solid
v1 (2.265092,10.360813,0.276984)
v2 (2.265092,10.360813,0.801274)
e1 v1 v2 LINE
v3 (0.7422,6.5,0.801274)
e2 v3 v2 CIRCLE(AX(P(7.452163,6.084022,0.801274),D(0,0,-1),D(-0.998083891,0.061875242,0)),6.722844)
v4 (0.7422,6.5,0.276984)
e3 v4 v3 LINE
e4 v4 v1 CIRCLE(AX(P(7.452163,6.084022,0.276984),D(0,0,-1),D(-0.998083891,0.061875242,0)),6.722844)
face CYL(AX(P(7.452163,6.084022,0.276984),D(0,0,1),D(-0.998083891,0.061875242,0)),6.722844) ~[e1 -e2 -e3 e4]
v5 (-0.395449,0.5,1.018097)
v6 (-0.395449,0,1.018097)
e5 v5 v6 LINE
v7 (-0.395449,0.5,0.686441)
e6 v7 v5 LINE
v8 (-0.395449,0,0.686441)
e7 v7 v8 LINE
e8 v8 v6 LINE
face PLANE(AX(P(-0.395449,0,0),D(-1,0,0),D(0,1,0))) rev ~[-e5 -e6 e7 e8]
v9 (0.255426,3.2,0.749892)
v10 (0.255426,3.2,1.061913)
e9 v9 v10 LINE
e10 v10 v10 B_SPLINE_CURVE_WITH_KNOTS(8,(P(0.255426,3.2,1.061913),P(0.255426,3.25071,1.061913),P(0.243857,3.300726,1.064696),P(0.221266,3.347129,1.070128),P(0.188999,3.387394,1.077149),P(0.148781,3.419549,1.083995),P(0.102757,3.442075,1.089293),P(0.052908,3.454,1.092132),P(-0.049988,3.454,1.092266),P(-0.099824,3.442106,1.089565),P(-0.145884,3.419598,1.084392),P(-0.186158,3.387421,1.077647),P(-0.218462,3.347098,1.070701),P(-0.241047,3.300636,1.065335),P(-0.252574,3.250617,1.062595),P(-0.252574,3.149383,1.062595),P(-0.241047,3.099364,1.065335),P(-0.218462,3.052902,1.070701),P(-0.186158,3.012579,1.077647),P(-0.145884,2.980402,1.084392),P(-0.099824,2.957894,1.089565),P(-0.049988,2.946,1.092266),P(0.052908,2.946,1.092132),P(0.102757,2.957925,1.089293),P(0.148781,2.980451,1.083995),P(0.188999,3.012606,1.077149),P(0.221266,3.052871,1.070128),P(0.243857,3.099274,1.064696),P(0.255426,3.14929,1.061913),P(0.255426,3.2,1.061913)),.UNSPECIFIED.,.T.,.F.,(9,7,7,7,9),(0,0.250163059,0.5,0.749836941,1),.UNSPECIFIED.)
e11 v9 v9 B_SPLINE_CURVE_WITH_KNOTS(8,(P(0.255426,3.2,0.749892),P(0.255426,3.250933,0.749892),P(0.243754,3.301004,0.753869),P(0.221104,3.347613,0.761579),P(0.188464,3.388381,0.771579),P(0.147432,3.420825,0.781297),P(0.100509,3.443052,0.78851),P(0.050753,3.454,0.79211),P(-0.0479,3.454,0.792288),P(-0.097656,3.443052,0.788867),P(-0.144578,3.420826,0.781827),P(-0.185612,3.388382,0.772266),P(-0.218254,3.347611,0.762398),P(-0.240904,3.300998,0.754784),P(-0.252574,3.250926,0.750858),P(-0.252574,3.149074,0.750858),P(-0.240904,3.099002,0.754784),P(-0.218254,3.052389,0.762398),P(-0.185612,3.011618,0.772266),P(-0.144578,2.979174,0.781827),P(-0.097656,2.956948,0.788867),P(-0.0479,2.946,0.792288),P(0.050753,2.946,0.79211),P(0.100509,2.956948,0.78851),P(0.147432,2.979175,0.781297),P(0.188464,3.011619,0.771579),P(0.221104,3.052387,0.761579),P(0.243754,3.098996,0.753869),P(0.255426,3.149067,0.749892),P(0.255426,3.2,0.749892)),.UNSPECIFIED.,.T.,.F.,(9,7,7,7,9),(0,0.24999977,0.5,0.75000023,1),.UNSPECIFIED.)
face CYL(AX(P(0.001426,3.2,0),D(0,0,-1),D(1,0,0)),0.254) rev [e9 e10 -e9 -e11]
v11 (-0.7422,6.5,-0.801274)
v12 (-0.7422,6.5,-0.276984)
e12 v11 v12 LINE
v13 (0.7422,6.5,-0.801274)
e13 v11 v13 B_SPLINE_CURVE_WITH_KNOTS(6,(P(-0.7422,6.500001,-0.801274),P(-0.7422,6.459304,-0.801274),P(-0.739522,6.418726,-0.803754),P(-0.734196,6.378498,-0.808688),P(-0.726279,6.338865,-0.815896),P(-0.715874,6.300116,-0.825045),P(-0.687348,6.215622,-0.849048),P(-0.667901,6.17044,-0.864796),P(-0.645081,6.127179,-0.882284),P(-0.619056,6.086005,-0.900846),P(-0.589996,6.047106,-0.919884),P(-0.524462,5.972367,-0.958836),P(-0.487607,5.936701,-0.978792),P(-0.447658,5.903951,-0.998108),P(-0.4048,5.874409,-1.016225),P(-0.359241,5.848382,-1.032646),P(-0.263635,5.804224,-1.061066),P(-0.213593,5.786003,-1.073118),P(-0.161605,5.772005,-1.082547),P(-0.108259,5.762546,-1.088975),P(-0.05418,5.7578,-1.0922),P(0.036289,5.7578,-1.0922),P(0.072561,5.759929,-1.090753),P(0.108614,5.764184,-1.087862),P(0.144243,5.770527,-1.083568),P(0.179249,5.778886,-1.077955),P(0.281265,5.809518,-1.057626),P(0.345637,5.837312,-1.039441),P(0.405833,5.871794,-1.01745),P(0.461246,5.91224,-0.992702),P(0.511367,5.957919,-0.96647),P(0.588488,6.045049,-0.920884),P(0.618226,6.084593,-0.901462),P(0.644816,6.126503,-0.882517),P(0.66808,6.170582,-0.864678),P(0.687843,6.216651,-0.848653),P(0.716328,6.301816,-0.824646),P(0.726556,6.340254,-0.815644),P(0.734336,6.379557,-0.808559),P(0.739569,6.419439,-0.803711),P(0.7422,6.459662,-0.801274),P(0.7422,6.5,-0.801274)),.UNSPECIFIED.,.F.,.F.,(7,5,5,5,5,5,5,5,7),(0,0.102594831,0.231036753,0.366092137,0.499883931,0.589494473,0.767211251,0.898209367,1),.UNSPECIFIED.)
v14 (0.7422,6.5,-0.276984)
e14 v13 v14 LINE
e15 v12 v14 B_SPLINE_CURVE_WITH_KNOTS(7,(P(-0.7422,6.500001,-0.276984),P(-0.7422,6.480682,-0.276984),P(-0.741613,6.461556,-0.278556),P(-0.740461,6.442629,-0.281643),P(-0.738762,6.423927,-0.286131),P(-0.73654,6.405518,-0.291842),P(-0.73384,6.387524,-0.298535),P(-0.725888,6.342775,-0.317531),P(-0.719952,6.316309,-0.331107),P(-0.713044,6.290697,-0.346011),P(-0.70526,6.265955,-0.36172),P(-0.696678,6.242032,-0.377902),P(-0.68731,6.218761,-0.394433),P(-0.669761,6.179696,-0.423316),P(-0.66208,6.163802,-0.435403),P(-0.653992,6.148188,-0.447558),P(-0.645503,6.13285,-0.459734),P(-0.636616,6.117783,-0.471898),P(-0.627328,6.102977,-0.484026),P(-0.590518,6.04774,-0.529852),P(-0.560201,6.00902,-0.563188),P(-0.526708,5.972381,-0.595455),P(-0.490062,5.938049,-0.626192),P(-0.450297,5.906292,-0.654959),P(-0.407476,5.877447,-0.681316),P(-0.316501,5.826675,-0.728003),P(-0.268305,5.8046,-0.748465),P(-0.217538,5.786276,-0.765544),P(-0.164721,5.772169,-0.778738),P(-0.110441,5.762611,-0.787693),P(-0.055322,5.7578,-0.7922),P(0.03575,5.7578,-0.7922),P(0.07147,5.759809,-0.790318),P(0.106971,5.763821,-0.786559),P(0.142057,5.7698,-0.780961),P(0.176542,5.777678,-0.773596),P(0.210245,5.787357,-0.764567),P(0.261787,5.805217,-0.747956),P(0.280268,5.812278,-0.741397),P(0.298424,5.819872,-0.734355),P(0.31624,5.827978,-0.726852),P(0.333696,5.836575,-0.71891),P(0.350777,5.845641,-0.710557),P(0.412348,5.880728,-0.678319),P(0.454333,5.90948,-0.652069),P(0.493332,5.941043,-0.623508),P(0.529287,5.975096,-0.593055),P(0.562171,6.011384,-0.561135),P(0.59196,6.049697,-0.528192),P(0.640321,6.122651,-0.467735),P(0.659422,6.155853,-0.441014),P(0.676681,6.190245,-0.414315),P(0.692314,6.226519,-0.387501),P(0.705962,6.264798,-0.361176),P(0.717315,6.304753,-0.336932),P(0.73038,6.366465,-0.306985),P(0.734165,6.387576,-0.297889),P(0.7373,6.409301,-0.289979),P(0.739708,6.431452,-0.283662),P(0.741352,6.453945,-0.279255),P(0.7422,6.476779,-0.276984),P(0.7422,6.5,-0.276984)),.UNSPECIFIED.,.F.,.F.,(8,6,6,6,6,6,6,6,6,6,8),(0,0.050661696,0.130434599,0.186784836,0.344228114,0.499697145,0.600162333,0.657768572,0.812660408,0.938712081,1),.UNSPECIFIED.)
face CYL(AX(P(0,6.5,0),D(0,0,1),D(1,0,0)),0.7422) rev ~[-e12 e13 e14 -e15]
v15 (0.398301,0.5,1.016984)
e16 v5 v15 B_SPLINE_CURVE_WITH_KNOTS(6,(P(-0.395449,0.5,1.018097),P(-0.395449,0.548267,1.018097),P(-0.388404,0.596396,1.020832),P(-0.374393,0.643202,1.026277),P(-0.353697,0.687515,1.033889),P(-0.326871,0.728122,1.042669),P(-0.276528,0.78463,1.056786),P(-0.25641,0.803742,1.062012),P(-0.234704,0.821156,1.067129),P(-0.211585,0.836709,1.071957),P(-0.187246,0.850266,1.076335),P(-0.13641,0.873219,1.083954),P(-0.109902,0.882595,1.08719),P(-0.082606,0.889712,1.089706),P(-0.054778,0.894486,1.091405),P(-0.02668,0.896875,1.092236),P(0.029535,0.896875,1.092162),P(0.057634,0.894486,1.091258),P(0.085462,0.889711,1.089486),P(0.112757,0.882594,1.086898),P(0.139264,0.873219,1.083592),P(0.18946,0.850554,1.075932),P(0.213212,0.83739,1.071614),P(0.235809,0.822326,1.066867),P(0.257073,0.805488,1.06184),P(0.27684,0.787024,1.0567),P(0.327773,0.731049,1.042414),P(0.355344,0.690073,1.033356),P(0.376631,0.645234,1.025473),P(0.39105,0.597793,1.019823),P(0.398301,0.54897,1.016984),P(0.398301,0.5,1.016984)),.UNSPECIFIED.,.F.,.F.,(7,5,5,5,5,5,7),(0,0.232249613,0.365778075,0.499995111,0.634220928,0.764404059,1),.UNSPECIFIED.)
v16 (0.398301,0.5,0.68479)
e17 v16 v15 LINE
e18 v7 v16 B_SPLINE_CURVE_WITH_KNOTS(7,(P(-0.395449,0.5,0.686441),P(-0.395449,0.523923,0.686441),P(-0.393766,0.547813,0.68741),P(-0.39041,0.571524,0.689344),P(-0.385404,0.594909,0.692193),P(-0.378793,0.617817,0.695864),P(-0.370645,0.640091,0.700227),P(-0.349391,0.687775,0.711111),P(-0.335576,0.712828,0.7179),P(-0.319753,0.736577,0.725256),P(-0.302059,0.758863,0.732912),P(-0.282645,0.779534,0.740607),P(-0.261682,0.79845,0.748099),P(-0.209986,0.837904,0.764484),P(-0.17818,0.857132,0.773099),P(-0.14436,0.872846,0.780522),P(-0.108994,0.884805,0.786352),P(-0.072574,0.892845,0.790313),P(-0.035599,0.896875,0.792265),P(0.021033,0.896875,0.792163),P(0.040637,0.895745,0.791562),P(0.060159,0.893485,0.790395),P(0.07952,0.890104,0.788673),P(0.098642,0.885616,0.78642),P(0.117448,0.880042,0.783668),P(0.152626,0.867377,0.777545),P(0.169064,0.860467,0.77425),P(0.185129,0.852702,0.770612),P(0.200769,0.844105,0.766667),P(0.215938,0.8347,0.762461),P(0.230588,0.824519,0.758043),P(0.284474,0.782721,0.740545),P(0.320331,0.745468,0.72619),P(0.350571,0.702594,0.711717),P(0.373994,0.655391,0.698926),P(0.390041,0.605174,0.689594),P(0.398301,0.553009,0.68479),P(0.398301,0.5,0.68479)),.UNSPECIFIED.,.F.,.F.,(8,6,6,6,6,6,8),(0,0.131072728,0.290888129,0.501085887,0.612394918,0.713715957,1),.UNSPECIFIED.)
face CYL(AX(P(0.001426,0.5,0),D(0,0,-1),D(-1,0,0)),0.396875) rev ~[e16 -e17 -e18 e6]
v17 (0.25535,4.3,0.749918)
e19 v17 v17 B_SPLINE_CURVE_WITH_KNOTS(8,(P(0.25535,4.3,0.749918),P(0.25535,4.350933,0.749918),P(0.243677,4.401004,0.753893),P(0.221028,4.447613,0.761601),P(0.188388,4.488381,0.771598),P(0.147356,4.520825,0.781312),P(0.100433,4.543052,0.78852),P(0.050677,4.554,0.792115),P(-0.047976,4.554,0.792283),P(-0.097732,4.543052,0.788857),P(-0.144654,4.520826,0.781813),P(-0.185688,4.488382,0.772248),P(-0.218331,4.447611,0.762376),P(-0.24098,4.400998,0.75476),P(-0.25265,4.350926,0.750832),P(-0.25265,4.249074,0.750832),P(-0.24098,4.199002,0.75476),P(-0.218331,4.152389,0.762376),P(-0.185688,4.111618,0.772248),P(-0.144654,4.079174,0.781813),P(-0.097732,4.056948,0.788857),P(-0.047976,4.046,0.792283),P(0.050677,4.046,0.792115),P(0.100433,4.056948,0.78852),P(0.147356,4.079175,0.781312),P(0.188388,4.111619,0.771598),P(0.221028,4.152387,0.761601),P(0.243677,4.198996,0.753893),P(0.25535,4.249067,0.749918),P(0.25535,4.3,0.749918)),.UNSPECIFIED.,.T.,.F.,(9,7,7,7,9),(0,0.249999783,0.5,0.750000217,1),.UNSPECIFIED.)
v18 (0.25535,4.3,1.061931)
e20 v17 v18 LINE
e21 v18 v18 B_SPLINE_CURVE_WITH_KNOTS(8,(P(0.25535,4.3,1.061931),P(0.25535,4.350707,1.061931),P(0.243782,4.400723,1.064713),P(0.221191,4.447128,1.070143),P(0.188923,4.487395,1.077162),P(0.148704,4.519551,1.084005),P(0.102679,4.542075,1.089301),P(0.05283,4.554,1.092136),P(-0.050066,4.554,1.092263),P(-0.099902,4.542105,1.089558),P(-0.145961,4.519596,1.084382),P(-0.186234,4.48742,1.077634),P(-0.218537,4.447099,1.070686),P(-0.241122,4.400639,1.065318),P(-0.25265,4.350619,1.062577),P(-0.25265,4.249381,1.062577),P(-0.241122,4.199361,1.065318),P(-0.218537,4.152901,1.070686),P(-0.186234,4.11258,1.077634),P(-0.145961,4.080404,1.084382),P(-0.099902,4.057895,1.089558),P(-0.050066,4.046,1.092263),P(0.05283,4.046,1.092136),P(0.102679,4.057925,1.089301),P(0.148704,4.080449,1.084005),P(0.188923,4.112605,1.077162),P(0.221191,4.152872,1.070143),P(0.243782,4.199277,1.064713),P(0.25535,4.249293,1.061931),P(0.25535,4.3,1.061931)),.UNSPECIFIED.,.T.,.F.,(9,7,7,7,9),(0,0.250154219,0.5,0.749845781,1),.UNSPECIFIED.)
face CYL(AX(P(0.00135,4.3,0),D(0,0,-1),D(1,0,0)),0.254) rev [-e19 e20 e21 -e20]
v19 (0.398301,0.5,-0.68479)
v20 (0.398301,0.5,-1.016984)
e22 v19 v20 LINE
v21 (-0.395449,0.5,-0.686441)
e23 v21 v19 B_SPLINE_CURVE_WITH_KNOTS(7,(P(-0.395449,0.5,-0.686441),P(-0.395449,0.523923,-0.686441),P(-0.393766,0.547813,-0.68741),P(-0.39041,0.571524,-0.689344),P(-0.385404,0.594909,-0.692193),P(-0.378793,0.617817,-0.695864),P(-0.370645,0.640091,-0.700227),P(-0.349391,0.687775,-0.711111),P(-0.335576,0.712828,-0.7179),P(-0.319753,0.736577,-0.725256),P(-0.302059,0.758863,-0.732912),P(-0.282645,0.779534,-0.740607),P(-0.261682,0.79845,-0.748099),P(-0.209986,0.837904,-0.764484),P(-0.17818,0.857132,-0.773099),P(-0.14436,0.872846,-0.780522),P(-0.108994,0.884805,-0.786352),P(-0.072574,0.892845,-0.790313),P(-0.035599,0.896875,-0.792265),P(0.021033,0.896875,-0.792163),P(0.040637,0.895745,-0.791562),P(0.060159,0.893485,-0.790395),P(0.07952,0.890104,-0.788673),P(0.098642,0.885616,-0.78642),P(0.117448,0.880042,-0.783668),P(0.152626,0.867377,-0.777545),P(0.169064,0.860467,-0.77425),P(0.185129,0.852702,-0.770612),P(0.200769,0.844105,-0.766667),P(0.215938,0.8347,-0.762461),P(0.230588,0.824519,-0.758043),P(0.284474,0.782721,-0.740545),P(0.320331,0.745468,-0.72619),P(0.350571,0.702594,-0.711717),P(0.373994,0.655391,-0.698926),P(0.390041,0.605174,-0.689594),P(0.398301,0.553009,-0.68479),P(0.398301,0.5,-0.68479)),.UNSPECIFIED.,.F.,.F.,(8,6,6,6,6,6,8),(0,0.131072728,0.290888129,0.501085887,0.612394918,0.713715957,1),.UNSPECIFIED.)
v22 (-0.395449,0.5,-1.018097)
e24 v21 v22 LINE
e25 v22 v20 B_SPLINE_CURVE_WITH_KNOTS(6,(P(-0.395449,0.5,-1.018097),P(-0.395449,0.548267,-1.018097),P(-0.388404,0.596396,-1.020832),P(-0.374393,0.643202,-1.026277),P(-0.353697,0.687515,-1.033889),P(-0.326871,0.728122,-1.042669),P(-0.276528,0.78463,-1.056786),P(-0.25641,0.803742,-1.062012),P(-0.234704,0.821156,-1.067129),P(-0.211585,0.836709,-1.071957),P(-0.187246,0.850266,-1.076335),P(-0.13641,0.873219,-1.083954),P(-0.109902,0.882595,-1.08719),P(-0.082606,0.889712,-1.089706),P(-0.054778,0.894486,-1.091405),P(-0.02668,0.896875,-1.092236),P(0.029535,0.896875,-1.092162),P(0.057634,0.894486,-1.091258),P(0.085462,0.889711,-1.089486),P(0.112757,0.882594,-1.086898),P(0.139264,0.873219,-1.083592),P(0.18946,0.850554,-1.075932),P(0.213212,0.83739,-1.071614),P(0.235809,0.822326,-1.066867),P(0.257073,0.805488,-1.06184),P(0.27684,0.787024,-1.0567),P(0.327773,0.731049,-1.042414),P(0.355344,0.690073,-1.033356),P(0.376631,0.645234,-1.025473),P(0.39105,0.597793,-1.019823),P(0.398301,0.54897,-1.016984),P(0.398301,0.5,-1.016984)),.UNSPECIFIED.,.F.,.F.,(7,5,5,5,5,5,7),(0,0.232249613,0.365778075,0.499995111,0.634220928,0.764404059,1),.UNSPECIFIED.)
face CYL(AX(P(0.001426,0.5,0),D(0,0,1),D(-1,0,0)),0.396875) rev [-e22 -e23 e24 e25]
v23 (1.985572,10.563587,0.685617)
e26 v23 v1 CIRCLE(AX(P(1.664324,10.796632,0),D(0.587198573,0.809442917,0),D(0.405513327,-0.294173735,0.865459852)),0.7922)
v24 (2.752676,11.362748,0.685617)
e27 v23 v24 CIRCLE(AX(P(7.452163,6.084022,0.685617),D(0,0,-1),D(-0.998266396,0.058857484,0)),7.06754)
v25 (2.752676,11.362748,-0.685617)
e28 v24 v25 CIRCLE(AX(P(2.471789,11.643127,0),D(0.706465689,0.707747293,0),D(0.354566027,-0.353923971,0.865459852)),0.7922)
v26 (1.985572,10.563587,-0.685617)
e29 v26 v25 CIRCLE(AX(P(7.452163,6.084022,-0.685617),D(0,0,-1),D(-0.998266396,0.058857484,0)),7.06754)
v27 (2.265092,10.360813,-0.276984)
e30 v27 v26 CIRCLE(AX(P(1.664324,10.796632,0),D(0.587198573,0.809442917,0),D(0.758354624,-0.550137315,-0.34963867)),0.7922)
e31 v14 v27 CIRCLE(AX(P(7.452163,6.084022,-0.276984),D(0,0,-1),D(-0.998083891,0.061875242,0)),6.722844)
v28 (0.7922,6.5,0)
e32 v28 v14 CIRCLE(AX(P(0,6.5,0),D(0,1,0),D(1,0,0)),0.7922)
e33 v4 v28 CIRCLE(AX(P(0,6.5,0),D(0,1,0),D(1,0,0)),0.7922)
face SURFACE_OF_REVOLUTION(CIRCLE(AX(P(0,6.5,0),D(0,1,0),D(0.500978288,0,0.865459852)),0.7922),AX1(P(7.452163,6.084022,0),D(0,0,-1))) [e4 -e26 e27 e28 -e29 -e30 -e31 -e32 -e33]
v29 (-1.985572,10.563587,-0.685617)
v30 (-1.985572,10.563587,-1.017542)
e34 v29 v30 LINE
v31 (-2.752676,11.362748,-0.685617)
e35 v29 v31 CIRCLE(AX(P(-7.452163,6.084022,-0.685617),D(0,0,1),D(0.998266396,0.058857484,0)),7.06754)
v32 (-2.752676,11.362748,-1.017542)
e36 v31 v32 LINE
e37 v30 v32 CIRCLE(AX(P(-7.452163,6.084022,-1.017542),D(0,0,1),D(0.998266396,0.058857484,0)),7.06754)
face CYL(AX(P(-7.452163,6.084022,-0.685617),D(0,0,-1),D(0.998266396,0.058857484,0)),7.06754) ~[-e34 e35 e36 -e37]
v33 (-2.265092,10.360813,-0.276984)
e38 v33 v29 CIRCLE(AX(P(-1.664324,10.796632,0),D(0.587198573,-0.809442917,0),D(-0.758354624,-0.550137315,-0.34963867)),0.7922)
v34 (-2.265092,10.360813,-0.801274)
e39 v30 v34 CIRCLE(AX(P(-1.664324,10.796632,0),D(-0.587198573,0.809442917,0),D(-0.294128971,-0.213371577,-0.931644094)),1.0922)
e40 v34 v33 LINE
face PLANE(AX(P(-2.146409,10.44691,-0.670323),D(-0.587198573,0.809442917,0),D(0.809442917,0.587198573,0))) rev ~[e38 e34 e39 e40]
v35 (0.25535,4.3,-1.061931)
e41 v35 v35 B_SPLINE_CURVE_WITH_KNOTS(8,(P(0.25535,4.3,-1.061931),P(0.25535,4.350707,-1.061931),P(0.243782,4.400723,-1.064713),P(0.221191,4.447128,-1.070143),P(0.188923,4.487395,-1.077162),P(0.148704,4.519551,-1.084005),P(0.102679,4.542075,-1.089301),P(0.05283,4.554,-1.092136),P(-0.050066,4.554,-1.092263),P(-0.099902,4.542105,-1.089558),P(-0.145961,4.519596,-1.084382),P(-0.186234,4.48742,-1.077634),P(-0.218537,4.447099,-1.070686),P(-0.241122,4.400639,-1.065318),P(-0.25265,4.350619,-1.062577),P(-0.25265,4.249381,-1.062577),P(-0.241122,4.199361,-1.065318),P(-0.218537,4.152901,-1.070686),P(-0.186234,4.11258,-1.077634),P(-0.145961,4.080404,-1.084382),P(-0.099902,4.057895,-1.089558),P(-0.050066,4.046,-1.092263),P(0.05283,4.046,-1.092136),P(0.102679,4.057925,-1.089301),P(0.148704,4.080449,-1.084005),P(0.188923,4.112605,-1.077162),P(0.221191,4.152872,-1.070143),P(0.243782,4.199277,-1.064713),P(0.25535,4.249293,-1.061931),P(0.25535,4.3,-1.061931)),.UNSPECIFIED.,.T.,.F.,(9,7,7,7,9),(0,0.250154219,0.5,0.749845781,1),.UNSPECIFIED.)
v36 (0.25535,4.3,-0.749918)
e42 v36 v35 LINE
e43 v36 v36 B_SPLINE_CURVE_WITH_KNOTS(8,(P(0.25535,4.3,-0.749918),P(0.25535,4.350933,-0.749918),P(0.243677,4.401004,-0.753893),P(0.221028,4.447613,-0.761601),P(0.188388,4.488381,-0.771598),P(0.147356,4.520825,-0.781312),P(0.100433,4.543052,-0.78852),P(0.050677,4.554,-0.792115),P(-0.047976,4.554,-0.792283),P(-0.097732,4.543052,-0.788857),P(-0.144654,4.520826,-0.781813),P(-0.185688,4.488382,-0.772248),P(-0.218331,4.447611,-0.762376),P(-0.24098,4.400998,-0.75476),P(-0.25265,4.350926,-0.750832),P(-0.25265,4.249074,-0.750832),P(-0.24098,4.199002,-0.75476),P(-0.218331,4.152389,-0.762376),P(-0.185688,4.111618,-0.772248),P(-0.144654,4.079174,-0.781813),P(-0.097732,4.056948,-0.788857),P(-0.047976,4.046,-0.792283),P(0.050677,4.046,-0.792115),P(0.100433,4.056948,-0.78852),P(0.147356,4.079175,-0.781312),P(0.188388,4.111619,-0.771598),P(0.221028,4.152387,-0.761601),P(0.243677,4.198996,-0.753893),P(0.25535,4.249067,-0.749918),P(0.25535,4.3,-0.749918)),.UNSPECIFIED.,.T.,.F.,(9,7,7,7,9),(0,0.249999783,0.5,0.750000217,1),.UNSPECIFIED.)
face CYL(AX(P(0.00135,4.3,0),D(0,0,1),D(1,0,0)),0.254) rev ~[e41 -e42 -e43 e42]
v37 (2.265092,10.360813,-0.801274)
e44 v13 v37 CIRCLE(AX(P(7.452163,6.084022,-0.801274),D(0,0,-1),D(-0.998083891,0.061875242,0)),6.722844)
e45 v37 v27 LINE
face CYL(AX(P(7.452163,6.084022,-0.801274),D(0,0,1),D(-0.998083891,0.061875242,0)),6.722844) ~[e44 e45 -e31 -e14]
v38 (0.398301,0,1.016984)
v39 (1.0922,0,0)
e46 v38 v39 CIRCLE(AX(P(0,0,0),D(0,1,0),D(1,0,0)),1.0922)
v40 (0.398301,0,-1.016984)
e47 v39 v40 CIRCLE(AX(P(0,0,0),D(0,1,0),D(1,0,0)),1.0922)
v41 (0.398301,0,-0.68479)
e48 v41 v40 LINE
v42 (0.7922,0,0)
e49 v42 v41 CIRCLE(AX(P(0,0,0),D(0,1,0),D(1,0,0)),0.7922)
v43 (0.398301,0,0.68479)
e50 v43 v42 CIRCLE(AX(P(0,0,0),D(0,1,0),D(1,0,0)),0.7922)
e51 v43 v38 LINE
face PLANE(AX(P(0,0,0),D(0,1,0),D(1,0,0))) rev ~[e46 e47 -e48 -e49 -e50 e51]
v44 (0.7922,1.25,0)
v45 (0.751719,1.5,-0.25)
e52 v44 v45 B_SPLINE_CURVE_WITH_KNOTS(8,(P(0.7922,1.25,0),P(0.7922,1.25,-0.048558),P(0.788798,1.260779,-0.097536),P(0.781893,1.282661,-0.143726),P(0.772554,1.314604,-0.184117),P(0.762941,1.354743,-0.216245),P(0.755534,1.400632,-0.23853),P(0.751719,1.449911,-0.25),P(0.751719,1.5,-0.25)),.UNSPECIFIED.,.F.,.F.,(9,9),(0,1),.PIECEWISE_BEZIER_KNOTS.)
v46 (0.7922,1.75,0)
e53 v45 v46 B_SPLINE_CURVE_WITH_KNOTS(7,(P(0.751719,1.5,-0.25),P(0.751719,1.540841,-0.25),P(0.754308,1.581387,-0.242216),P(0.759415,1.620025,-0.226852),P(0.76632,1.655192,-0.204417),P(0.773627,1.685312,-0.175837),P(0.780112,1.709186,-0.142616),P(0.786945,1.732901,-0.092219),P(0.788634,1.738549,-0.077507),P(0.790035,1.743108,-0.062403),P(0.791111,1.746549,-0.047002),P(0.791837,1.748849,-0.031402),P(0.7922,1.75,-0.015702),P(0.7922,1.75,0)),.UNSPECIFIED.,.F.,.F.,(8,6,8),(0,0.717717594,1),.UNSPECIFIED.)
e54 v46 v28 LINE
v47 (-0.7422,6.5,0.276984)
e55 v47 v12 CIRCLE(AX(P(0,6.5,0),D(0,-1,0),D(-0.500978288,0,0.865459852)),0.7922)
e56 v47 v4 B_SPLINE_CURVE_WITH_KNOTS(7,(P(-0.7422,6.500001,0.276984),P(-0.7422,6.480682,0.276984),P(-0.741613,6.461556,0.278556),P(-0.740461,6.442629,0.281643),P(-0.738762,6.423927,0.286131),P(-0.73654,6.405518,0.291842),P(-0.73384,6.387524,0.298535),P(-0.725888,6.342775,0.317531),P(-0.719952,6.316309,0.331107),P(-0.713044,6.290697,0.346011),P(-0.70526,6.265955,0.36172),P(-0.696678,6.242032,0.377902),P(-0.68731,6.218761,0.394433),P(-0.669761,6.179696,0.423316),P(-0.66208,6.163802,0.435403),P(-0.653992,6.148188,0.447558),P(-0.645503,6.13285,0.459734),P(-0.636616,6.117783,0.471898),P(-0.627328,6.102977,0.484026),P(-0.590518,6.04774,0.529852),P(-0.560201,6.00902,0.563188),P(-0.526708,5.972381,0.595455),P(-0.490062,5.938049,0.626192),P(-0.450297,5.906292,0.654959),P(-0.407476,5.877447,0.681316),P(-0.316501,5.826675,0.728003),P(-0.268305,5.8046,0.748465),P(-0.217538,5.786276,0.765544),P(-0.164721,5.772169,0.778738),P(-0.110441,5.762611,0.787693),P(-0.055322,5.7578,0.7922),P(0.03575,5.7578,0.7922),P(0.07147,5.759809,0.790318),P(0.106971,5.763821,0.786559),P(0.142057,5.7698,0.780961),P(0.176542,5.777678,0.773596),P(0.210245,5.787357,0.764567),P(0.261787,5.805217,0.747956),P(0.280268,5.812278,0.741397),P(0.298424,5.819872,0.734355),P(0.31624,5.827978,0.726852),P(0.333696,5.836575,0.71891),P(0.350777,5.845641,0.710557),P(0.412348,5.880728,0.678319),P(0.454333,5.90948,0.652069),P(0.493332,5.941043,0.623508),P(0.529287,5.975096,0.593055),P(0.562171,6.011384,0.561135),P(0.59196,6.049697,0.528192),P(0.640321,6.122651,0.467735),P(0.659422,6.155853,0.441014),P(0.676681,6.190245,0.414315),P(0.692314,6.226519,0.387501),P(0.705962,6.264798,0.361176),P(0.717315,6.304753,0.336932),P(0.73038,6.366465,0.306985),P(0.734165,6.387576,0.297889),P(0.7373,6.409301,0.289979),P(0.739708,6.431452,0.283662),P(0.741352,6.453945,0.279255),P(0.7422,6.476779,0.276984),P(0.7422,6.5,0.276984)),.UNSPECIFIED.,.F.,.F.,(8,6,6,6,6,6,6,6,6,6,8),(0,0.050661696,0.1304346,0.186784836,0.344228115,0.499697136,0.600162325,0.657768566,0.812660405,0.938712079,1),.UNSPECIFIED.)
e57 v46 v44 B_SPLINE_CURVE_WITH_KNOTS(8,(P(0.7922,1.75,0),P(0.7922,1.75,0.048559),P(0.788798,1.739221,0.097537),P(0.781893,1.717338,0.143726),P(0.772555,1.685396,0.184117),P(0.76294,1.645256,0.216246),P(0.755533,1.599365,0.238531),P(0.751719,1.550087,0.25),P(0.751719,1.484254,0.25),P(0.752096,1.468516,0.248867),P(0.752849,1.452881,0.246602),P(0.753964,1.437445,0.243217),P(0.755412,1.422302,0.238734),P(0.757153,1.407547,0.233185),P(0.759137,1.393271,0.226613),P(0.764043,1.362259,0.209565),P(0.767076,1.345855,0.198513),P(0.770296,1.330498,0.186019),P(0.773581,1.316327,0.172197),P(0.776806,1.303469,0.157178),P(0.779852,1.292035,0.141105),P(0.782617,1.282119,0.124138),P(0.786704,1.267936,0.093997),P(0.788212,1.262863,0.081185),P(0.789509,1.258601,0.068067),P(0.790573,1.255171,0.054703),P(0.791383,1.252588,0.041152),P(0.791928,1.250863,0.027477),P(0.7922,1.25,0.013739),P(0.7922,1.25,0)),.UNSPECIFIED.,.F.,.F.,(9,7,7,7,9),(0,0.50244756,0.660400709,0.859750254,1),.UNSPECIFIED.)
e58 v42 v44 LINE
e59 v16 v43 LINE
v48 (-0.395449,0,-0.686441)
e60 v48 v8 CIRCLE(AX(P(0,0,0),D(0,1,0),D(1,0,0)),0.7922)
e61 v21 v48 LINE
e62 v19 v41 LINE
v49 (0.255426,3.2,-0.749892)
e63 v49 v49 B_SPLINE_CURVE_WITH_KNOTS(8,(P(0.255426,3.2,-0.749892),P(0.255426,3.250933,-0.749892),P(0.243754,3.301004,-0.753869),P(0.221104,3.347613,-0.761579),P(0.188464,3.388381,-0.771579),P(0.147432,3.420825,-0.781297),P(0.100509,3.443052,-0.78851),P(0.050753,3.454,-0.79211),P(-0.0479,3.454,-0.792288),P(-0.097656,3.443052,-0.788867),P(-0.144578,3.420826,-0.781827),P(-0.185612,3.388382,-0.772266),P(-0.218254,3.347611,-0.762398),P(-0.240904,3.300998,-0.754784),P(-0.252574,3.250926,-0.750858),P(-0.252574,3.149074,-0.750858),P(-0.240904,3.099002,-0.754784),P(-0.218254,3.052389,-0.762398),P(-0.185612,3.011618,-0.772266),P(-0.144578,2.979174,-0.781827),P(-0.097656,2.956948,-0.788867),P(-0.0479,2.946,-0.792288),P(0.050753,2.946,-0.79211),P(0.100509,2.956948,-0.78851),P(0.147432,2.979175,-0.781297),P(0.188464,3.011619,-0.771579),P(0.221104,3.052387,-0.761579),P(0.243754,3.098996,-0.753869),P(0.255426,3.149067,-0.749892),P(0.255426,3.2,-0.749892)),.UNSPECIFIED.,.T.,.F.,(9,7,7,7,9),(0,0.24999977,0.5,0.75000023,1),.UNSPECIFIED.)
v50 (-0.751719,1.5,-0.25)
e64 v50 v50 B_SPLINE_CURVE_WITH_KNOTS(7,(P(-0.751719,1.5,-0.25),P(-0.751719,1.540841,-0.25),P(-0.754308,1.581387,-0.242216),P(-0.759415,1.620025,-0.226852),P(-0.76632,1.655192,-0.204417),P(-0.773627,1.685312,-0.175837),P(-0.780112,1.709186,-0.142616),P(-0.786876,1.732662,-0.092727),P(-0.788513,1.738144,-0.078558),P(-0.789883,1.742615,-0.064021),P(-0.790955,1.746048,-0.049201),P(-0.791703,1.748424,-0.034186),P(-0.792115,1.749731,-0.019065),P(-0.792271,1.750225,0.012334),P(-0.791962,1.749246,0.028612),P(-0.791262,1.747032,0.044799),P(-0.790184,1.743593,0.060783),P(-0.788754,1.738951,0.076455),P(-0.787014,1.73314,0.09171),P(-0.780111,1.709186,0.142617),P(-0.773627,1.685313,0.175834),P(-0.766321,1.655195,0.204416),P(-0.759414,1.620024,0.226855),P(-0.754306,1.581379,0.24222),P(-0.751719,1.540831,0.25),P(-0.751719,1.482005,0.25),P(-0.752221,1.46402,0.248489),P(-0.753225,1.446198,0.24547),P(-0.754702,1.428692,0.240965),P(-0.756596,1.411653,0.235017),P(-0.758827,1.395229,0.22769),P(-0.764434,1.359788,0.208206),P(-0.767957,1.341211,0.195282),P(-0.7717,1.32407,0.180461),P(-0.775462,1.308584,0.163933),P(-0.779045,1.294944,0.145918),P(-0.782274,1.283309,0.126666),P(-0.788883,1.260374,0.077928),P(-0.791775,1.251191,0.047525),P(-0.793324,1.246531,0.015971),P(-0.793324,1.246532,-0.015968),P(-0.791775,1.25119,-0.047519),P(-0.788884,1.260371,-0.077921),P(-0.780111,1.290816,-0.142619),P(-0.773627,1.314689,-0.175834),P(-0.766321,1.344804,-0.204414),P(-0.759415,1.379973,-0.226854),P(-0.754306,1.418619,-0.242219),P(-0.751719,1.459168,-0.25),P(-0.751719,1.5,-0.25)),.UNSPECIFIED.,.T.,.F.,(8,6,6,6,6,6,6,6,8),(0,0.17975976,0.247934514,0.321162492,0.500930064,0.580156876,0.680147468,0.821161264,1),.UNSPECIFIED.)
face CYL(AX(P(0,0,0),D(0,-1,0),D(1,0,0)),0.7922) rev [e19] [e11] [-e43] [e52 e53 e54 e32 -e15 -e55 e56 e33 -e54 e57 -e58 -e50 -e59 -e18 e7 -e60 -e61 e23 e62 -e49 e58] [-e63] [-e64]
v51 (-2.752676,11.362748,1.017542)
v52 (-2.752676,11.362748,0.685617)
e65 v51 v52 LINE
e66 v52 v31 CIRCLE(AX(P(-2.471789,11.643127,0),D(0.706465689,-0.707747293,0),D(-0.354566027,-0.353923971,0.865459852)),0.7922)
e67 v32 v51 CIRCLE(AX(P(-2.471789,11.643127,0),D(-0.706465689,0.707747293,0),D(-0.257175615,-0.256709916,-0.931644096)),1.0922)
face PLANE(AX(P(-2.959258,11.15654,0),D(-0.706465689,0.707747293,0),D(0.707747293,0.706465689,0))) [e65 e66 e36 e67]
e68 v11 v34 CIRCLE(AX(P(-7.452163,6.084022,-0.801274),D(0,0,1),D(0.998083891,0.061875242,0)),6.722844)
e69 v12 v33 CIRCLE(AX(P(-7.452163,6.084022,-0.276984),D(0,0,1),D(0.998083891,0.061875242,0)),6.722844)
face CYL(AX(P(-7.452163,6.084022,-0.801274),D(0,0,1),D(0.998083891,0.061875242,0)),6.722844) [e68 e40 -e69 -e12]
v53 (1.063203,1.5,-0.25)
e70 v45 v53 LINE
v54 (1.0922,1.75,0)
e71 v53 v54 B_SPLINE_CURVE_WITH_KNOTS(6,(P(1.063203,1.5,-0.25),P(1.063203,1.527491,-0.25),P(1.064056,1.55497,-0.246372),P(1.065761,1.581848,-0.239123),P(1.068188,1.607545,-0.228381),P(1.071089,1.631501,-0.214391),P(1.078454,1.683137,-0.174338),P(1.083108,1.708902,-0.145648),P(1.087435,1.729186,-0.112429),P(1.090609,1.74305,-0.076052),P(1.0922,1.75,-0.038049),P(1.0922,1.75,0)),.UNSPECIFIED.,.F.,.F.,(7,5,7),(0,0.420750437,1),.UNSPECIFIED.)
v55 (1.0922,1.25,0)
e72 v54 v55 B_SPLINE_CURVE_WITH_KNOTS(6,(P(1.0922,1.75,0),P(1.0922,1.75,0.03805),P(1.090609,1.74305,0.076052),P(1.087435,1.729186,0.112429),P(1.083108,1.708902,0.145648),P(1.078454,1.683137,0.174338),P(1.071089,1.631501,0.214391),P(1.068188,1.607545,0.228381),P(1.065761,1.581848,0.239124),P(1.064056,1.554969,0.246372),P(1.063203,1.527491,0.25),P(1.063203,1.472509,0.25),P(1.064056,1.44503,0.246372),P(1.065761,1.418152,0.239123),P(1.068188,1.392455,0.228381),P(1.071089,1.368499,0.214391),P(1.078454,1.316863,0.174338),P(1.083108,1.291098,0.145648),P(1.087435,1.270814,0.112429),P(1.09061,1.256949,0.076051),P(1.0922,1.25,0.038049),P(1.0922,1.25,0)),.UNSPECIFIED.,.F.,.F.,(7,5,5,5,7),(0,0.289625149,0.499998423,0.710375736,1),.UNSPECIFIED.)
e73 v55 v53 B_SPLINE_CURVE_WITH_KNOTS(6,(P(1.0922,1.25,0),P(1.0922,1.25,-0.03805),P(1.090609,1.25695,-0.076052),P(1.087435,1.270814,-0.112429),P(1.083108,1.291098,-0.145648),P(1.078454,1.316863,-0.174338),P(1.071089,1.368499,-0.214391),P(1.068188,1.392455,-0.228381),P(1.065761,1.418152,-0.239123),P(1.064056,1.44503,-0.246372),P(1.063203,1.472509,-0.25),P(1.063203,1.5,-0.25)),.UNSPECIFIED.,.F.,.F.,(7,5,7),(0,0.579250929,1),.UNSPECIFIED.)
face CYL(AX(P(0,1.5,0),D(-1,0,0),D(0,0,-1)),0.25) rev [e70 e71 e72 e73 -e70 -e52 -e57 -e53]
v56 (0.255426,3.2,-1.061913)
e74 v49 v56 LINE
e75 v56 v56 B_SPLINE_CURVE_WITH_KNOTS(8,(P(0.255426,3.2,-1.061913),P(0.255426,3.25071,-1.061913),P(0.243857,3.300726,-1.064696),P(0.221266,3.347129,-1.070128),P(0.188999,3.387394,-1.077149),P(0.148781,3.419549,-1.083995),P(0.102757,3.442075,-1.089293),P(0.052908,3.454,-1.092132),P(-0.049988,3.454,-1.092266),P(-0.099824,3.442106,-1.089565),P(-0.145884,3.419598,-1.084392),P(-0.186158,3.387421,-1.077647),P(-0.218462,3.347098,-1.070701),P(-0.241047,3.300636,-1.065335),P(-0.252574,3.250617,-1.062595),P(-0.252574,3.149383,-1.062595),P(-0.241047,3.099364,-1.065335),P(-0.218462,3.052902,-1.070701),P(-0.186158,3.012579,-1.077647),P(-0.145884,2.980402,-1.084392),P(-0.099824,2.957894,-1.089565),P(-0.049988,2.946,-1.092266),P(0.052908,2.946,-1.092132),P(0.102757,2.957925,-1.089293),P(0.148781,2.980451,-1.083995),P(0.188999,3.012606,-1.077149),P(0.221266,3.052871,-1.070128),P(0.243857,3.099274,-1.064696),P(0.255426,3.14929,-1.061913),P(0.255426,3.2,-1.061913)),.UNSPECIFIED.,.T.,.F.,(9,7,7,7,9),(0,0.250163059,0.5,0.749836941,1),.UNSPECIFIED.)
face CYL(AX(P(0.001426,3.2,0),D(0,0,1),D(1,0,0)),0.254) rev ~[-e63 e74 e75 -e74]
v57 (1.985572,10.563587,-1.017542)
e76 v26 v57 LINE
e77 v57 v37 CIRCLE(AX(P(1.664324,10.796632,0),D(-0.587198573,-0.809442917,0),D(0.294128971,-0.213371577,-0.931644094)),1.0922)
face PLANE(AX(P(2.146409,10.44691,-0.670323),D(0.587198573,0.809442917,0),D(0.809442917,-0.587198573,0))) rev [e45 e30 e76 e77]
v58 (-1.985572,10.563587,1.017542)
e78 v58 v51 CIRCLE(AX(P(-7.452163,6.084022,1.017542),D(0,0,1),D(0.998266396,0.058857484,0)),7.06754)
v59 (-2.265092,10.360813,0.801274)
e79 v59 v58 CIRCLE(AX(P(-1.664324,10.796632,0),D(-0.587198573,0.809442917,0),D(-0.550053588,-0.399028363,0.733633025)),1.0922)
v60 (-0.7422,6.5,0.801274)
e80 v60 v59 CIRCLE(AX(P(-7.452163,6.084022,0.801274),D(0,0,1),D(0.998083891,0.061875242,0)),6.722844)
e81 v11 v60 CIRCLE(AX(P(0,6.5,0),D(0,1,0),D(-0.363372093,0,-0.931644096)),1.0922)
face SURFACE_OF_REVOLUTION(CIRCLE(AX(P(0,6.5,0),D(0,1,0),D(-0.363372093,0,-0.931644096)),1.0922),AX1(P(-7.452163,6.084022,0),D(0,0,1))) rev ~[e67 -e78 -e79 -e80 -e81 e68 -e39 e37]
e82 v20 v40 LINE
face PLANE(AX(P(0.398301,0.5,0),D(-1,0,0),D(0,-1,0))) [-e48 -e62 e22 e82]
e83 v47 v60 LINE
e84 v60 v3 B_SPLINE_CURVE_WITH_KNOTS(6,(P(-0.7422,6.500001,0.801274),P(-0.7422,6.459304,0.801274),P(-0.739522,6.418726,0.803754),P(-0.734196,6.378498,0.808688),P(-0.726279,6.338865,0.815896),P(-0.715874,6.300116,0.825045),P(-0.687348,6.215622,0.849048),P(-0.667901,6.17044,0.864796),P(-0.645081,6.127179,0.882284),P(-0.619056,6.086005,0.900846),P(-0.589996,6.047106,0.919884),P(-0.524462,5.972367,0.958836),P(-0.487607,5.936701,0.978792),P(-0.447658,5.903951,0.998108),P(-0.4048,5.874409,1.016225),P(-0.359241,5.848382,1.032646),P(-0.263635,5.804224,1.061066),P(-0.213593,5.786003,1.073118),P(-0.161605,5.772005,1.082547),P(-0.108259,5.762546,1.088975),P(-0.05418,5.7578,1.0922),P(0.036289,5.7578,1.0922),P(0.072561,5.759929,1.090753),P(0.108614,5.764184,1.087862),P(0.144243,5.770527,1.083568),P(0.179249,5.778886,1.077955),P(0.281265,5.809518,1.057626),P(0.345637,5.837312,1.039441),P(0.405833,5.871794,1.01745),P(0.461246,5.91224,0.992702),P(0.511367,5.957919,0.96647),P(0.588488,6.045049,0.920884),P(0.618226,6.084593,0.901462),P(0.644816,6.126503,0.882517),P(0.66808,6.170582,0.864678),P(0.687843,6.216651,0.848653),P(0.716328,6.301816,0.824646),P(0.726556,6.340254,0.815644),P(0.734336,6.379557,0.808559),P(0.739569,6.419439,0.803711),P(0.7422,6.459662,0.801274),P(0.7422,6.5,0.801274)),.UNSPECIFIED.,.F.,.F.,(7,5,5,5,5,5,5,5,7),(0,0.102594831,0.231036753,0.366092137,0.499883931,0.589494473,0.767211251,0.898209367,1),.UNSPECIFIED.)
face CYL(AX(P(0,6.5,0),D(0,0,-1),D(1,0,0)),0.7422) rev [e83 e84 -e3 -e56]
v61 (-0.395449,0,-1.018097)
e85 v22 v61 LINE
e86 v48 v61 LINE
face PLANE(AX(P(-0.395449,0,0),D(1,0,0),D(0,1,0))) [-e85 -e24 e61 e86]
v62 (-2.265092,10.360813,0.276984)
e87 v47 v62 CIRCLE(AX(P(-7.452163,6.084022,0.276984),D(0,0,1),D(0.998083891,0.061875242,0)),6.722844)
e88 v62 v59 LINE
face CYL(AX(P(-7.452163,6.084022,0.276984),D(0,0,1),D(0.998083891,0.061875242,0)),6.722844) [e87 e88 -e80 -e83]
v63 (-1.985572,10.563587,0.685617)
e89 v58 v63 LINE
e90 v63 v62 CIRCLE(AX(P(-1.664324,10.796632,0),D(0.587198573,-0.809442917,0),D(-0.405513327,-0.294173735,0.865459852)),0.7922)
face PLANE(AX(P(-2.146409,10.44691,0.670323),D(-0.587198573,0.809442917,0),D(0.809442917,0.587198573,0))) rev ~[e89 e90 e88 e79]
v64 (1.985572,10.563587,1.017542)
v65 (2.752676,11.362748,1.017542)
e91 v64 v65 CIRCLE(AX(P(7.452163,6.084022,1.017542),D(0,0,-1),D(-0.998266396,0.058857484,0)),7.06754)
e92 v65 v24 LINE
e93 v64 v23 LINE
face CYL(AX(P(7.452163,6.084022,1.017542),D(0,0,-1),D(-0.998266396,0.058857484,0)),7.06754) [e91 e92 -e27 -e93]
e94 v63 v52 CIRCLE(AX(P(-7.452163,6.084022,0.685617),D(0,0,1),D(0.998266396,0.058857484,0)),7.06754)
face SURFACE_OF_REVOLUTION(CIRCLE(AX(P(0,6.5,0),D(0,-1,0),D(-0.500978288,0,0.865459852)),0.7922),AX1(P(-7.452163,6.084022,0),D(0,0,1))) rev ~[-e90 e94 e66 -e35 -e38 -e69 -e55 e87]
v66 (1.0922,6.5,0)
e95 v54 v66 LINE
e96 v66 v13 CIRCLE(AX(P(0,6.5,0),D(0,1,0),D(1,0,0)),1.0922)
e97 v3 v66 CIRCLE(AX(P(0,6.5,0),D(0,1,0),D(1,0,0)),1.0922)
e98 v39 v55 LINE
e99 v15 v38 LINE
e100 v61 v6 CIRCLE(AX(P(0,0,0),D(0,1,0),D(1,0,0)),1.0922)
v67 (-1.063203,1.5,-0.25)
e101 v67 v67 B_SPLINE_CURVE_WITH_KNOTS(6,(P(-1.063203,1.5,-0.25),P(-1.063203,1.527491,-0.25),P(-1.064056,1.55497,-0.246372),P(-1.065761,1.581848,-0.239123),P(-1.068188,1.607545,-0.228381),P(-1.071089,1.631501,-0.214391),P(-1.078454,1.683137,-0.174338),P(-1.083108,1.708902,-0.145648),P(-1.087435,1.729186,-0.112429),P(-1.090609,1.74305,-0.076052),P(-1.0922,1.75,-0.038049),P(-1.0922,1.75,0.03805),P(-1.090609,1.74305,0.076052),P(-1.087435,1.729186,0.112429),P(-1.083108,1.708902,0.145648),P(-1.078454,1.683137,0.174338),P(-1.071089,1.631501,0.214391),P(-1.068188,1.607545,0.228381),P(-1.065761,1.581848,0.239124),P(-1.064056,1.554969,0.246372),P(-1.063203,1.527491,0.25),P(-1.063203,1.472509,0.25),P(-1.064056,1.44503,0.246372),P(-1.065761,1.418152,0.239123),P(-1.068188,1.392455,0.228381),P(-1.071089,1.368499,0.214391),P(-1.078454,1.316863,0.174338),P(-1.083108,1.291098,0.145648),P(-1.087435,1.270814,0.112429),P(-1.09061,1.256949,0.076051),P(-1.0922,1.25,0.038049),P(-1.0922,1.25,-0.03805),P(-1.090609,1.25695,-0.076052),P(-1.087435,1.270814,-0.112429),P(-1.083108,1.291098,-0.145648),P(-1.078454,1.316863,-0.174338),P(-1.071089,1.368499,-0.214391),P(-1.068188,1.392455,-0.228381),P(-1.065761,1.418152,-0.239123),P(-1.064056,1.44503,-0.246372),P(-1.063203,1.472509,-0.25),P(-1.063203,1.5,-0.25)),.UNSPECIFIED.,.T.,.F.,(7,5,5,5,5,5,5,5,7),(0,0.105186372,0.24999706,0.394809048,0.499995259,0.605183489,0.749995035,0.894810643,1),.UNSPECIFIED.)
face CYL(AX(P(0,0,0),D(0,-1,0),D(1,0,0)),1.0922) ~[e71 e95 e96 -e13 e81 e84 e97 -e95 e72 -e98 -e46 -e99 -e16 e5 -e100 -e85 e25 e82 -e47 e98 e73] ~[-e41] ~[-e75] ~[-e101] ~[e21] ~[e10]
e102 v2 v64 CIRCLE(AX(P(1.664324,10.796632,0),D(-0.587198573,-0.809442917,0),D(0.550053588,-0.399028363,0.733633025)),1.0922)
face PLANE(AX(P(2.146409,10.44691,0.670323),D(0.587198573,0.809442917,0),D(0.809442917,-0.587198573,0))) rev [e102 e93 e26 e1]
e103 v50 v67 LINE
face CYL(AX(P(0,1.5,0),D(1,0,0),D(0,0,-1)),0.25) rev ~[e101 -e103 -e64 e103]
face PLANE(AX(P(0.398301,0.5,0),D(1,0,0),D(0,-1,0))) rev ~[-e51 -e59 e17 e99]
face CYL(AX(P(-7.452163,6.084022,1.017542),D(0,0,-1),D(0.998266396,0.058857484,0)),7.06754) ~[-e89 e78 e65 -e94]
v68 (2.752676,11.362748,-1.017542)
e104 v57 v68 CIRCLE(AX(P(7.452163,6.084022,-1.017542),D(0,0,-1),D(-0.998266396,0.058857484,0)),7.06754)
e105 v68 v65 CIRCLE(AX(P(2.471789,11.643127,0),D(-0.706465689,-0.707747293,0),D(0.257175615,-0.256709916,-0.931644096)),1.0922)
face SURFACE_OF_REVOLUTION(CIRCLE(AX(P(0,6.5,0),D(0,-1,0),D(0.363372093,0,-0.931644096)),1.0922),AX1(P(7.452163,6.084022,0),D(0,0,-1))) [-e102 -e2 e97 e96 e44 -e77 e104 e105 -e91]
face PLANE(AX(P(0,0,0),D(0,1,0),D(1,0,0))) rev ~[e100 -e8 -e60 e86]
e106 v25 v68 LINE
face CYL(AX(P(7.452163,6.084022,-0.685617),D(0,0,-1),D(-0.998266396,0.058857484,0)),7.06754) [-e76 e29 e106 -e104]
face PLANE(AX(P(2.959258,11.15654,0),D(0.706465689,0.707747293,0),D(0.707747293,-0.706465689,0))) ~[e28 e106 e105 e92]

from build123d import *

# Parameters (mm, degrees)
SKETCH1_R               = 1.0922
SKETCH1_R_2             = 0.7922
EXTRUDE_THIN1_DEPTH     = 6.5
CUT_EXTRUDE1_DEPTH      = 12.867333696
CUT_EXTRUDE1_DEPTH_BACK = 12.867333696
SKETCH5_R               = 0.7422
CUT_EXTRUDE5_DEPTH      = 10
CUT_EXTRUDE5_DEPTH_BACK = 10
SKETCH10_R              = 0.254
CUT_EXTRUDE4_DEPTH      = 10
CUT_EXTRUDE4_DEPTH_BACK = 10
SKETCH9_R               = 0.25


with BuildPart() as part:
    # Sketch1 → Extrude-Thin1 (new body)
    with BuildSketch(Plane(origin=(0, 0, 0), x_dir=(1, 0, 0), z_dir=(0, 1, 0))):
        Circle(SKETCH1_R)
        Circle(SKETCH1_R_2, mode=Mode.SUBTRACT)
    extrude(amount=EXTRUDE_THIN1_DEPTH)

    # Sweep2: sweep along a path in Sketch4<2>
    with BuildLine(Plane.XY) as sweep2_path:
        ThreePointArc((-1.0922, 6.5), (-1.734234713, 8.899597356), (-3.24479024, 10.87152485))
    # Sketch12 → Sweep2 (sweep)
    with BuildSketch(Plane(origin=(0, 6.5, 0), x_dir=(1, 0, 0), z_dir=(0, 1, 0))):
        with BuildLine():
            Line((-0.396875, -1.017541682), (-0.396875, -0.685617294))
            ThreePointArc((-0.396875, -0.685617294), (-0.7922, 0), (-0.396875, 0.685617294))
            Line((-0.396875, 0.685617294), (-0.396875, 1.017541682))
            ThreePointArc((-0.396875, 1.017541682), (-1.0922, 0), (-0.396875, -1.017541682))
        make_face()
    sweep2 = sweep(path=sweep2_path.line)

    # Cut-Sweep1: sweep along a path in Sketch13
    with BuildLine(Plane.XY) as cut_sweep1_path:
        ThreePointArc((-1.0922, 6.5), (-1.531167448, 8.442831006), (-2.54839741, 10.155293544))
    # Sketch14 → Cut-Sweep1 (sweep, cut)
    with BuildSketch(Plane(origin=(0, 6.5, 0), x_dir=(1, 0, 0), z_dir=(0, 1, 0))):
        with BuildLine():
            Line((-0.396875, -1.017541682), (-0.396875, -0.685617294))
            ThreePointArc((-0.396875, -0.685617294), (-0.605077108, -0.511334072), (-0.7422, -0.276983754))
            Line((-0.7422, -0.276983754), (-0.7422, -0.801273986))
            ThreePointArc((-0.7422, -0.801273986), (-0.579711905, -0.925653794), (-0.396875, -1.017541682))
        make_face()
        with BuildLine():
            Line((-0.396875, 0.685617294), (-0.396875, 1.017541682))
            ThreePointArc((-0.396875, 1.017541682), (-0.579711905, 0.925653794), (-0.7422, 0.801273986))
            Line((-0.7422, 0.801273986), (-0.7422, 0.276983754))
            ThreePointArc((-0.7422, 0.276983754), (-0.605077108, 0.511334072), (-0.396875, 0.685617294))
        make_face()
    cut_sweep1 = sweep(path=cut_sweep1_path.line, mode=Mode.SUBTRACT)

    # Mirror1: Sweep2, Cut-Sweep1 across plane
    add(sweep2.mirror(Plane(origin=(0, 0, 0), x_dir=(0, 0, 1), z_dir=(1, 0, 0))))
    add(cut_sweep1.mirror(Plane(origin=(0, 0, 0), x_dir=(0, 0, 1), z_dir=(1, 0, 0))), mode=Mode.SUBTRACT)

    # Sketch5 → Cut-Extrude1 (cut, two sides: drawn at the far end of the back side and taken through both)
    with BuildSketch(Plane.XY.offset(-CUT_EXTRUDE1_DEPTH_BACK)):
        with Locations((0, 6.5)):
            Circle(SKETCH5_R)
    extrude(amount=CUT_EXTRUDE1_DEPTH + CUT_EXTRUDE1_DEPTH_BACK, mode=Mode.SUBTRACT)

    # Sketch10 → Cut-Extrude5 (cut, two sides: drawn at the far end of the back side and taken through both)
    with BuildSketch(Plane.XY.offset(-CUT_EXTRUDE5_DEPTH_BACK)):
        with Locations((0.001350263, 4.3)):
            Circle(SKETCH10_R)
        with Locations((0.001426468, 3.200000003)):
            Circle(SKETCH10_R)
        with BuildLine():
            Line((0.398301468, 0.5), (0.398301468, 0))
            Line((0.398301468, 0), (-0.395448532, 0))
            Line((-0.395448532, 0), (-0.395448532, 0.5))
            ThreePointArc((-0.395448532, 0.5), (0.001426468, 0.896875), (0.398301468, 0.5))
        make_face()
    extrude(amount=CUT_EXTRUDE5_DEPTH + CUT_EXTRUDE5_DEPTH_BACK, mode=Mode.SUBTRACT)

    # Sketch9 → Cut-Extrude4 (cut, two sides: drawn at the far end of the back side and taken through both)
    with BuildSketch(Plane(origin=(0, 0, 0), x_dir=(0, 0, -1), z_dir=(1, 0, 0)).offset(-CUT_EXTRUDE4_DEPTH_BACK)):
        with Locations((0, 1.5)):
            Circle(SKETCH9_R)
    extrude(amount=CUT_EXTRUDE4_DEPTH + CUT_EXTRUDE4_DEPTH_BACK, mode=Mode.SUBTRACT)


solid = part.part
